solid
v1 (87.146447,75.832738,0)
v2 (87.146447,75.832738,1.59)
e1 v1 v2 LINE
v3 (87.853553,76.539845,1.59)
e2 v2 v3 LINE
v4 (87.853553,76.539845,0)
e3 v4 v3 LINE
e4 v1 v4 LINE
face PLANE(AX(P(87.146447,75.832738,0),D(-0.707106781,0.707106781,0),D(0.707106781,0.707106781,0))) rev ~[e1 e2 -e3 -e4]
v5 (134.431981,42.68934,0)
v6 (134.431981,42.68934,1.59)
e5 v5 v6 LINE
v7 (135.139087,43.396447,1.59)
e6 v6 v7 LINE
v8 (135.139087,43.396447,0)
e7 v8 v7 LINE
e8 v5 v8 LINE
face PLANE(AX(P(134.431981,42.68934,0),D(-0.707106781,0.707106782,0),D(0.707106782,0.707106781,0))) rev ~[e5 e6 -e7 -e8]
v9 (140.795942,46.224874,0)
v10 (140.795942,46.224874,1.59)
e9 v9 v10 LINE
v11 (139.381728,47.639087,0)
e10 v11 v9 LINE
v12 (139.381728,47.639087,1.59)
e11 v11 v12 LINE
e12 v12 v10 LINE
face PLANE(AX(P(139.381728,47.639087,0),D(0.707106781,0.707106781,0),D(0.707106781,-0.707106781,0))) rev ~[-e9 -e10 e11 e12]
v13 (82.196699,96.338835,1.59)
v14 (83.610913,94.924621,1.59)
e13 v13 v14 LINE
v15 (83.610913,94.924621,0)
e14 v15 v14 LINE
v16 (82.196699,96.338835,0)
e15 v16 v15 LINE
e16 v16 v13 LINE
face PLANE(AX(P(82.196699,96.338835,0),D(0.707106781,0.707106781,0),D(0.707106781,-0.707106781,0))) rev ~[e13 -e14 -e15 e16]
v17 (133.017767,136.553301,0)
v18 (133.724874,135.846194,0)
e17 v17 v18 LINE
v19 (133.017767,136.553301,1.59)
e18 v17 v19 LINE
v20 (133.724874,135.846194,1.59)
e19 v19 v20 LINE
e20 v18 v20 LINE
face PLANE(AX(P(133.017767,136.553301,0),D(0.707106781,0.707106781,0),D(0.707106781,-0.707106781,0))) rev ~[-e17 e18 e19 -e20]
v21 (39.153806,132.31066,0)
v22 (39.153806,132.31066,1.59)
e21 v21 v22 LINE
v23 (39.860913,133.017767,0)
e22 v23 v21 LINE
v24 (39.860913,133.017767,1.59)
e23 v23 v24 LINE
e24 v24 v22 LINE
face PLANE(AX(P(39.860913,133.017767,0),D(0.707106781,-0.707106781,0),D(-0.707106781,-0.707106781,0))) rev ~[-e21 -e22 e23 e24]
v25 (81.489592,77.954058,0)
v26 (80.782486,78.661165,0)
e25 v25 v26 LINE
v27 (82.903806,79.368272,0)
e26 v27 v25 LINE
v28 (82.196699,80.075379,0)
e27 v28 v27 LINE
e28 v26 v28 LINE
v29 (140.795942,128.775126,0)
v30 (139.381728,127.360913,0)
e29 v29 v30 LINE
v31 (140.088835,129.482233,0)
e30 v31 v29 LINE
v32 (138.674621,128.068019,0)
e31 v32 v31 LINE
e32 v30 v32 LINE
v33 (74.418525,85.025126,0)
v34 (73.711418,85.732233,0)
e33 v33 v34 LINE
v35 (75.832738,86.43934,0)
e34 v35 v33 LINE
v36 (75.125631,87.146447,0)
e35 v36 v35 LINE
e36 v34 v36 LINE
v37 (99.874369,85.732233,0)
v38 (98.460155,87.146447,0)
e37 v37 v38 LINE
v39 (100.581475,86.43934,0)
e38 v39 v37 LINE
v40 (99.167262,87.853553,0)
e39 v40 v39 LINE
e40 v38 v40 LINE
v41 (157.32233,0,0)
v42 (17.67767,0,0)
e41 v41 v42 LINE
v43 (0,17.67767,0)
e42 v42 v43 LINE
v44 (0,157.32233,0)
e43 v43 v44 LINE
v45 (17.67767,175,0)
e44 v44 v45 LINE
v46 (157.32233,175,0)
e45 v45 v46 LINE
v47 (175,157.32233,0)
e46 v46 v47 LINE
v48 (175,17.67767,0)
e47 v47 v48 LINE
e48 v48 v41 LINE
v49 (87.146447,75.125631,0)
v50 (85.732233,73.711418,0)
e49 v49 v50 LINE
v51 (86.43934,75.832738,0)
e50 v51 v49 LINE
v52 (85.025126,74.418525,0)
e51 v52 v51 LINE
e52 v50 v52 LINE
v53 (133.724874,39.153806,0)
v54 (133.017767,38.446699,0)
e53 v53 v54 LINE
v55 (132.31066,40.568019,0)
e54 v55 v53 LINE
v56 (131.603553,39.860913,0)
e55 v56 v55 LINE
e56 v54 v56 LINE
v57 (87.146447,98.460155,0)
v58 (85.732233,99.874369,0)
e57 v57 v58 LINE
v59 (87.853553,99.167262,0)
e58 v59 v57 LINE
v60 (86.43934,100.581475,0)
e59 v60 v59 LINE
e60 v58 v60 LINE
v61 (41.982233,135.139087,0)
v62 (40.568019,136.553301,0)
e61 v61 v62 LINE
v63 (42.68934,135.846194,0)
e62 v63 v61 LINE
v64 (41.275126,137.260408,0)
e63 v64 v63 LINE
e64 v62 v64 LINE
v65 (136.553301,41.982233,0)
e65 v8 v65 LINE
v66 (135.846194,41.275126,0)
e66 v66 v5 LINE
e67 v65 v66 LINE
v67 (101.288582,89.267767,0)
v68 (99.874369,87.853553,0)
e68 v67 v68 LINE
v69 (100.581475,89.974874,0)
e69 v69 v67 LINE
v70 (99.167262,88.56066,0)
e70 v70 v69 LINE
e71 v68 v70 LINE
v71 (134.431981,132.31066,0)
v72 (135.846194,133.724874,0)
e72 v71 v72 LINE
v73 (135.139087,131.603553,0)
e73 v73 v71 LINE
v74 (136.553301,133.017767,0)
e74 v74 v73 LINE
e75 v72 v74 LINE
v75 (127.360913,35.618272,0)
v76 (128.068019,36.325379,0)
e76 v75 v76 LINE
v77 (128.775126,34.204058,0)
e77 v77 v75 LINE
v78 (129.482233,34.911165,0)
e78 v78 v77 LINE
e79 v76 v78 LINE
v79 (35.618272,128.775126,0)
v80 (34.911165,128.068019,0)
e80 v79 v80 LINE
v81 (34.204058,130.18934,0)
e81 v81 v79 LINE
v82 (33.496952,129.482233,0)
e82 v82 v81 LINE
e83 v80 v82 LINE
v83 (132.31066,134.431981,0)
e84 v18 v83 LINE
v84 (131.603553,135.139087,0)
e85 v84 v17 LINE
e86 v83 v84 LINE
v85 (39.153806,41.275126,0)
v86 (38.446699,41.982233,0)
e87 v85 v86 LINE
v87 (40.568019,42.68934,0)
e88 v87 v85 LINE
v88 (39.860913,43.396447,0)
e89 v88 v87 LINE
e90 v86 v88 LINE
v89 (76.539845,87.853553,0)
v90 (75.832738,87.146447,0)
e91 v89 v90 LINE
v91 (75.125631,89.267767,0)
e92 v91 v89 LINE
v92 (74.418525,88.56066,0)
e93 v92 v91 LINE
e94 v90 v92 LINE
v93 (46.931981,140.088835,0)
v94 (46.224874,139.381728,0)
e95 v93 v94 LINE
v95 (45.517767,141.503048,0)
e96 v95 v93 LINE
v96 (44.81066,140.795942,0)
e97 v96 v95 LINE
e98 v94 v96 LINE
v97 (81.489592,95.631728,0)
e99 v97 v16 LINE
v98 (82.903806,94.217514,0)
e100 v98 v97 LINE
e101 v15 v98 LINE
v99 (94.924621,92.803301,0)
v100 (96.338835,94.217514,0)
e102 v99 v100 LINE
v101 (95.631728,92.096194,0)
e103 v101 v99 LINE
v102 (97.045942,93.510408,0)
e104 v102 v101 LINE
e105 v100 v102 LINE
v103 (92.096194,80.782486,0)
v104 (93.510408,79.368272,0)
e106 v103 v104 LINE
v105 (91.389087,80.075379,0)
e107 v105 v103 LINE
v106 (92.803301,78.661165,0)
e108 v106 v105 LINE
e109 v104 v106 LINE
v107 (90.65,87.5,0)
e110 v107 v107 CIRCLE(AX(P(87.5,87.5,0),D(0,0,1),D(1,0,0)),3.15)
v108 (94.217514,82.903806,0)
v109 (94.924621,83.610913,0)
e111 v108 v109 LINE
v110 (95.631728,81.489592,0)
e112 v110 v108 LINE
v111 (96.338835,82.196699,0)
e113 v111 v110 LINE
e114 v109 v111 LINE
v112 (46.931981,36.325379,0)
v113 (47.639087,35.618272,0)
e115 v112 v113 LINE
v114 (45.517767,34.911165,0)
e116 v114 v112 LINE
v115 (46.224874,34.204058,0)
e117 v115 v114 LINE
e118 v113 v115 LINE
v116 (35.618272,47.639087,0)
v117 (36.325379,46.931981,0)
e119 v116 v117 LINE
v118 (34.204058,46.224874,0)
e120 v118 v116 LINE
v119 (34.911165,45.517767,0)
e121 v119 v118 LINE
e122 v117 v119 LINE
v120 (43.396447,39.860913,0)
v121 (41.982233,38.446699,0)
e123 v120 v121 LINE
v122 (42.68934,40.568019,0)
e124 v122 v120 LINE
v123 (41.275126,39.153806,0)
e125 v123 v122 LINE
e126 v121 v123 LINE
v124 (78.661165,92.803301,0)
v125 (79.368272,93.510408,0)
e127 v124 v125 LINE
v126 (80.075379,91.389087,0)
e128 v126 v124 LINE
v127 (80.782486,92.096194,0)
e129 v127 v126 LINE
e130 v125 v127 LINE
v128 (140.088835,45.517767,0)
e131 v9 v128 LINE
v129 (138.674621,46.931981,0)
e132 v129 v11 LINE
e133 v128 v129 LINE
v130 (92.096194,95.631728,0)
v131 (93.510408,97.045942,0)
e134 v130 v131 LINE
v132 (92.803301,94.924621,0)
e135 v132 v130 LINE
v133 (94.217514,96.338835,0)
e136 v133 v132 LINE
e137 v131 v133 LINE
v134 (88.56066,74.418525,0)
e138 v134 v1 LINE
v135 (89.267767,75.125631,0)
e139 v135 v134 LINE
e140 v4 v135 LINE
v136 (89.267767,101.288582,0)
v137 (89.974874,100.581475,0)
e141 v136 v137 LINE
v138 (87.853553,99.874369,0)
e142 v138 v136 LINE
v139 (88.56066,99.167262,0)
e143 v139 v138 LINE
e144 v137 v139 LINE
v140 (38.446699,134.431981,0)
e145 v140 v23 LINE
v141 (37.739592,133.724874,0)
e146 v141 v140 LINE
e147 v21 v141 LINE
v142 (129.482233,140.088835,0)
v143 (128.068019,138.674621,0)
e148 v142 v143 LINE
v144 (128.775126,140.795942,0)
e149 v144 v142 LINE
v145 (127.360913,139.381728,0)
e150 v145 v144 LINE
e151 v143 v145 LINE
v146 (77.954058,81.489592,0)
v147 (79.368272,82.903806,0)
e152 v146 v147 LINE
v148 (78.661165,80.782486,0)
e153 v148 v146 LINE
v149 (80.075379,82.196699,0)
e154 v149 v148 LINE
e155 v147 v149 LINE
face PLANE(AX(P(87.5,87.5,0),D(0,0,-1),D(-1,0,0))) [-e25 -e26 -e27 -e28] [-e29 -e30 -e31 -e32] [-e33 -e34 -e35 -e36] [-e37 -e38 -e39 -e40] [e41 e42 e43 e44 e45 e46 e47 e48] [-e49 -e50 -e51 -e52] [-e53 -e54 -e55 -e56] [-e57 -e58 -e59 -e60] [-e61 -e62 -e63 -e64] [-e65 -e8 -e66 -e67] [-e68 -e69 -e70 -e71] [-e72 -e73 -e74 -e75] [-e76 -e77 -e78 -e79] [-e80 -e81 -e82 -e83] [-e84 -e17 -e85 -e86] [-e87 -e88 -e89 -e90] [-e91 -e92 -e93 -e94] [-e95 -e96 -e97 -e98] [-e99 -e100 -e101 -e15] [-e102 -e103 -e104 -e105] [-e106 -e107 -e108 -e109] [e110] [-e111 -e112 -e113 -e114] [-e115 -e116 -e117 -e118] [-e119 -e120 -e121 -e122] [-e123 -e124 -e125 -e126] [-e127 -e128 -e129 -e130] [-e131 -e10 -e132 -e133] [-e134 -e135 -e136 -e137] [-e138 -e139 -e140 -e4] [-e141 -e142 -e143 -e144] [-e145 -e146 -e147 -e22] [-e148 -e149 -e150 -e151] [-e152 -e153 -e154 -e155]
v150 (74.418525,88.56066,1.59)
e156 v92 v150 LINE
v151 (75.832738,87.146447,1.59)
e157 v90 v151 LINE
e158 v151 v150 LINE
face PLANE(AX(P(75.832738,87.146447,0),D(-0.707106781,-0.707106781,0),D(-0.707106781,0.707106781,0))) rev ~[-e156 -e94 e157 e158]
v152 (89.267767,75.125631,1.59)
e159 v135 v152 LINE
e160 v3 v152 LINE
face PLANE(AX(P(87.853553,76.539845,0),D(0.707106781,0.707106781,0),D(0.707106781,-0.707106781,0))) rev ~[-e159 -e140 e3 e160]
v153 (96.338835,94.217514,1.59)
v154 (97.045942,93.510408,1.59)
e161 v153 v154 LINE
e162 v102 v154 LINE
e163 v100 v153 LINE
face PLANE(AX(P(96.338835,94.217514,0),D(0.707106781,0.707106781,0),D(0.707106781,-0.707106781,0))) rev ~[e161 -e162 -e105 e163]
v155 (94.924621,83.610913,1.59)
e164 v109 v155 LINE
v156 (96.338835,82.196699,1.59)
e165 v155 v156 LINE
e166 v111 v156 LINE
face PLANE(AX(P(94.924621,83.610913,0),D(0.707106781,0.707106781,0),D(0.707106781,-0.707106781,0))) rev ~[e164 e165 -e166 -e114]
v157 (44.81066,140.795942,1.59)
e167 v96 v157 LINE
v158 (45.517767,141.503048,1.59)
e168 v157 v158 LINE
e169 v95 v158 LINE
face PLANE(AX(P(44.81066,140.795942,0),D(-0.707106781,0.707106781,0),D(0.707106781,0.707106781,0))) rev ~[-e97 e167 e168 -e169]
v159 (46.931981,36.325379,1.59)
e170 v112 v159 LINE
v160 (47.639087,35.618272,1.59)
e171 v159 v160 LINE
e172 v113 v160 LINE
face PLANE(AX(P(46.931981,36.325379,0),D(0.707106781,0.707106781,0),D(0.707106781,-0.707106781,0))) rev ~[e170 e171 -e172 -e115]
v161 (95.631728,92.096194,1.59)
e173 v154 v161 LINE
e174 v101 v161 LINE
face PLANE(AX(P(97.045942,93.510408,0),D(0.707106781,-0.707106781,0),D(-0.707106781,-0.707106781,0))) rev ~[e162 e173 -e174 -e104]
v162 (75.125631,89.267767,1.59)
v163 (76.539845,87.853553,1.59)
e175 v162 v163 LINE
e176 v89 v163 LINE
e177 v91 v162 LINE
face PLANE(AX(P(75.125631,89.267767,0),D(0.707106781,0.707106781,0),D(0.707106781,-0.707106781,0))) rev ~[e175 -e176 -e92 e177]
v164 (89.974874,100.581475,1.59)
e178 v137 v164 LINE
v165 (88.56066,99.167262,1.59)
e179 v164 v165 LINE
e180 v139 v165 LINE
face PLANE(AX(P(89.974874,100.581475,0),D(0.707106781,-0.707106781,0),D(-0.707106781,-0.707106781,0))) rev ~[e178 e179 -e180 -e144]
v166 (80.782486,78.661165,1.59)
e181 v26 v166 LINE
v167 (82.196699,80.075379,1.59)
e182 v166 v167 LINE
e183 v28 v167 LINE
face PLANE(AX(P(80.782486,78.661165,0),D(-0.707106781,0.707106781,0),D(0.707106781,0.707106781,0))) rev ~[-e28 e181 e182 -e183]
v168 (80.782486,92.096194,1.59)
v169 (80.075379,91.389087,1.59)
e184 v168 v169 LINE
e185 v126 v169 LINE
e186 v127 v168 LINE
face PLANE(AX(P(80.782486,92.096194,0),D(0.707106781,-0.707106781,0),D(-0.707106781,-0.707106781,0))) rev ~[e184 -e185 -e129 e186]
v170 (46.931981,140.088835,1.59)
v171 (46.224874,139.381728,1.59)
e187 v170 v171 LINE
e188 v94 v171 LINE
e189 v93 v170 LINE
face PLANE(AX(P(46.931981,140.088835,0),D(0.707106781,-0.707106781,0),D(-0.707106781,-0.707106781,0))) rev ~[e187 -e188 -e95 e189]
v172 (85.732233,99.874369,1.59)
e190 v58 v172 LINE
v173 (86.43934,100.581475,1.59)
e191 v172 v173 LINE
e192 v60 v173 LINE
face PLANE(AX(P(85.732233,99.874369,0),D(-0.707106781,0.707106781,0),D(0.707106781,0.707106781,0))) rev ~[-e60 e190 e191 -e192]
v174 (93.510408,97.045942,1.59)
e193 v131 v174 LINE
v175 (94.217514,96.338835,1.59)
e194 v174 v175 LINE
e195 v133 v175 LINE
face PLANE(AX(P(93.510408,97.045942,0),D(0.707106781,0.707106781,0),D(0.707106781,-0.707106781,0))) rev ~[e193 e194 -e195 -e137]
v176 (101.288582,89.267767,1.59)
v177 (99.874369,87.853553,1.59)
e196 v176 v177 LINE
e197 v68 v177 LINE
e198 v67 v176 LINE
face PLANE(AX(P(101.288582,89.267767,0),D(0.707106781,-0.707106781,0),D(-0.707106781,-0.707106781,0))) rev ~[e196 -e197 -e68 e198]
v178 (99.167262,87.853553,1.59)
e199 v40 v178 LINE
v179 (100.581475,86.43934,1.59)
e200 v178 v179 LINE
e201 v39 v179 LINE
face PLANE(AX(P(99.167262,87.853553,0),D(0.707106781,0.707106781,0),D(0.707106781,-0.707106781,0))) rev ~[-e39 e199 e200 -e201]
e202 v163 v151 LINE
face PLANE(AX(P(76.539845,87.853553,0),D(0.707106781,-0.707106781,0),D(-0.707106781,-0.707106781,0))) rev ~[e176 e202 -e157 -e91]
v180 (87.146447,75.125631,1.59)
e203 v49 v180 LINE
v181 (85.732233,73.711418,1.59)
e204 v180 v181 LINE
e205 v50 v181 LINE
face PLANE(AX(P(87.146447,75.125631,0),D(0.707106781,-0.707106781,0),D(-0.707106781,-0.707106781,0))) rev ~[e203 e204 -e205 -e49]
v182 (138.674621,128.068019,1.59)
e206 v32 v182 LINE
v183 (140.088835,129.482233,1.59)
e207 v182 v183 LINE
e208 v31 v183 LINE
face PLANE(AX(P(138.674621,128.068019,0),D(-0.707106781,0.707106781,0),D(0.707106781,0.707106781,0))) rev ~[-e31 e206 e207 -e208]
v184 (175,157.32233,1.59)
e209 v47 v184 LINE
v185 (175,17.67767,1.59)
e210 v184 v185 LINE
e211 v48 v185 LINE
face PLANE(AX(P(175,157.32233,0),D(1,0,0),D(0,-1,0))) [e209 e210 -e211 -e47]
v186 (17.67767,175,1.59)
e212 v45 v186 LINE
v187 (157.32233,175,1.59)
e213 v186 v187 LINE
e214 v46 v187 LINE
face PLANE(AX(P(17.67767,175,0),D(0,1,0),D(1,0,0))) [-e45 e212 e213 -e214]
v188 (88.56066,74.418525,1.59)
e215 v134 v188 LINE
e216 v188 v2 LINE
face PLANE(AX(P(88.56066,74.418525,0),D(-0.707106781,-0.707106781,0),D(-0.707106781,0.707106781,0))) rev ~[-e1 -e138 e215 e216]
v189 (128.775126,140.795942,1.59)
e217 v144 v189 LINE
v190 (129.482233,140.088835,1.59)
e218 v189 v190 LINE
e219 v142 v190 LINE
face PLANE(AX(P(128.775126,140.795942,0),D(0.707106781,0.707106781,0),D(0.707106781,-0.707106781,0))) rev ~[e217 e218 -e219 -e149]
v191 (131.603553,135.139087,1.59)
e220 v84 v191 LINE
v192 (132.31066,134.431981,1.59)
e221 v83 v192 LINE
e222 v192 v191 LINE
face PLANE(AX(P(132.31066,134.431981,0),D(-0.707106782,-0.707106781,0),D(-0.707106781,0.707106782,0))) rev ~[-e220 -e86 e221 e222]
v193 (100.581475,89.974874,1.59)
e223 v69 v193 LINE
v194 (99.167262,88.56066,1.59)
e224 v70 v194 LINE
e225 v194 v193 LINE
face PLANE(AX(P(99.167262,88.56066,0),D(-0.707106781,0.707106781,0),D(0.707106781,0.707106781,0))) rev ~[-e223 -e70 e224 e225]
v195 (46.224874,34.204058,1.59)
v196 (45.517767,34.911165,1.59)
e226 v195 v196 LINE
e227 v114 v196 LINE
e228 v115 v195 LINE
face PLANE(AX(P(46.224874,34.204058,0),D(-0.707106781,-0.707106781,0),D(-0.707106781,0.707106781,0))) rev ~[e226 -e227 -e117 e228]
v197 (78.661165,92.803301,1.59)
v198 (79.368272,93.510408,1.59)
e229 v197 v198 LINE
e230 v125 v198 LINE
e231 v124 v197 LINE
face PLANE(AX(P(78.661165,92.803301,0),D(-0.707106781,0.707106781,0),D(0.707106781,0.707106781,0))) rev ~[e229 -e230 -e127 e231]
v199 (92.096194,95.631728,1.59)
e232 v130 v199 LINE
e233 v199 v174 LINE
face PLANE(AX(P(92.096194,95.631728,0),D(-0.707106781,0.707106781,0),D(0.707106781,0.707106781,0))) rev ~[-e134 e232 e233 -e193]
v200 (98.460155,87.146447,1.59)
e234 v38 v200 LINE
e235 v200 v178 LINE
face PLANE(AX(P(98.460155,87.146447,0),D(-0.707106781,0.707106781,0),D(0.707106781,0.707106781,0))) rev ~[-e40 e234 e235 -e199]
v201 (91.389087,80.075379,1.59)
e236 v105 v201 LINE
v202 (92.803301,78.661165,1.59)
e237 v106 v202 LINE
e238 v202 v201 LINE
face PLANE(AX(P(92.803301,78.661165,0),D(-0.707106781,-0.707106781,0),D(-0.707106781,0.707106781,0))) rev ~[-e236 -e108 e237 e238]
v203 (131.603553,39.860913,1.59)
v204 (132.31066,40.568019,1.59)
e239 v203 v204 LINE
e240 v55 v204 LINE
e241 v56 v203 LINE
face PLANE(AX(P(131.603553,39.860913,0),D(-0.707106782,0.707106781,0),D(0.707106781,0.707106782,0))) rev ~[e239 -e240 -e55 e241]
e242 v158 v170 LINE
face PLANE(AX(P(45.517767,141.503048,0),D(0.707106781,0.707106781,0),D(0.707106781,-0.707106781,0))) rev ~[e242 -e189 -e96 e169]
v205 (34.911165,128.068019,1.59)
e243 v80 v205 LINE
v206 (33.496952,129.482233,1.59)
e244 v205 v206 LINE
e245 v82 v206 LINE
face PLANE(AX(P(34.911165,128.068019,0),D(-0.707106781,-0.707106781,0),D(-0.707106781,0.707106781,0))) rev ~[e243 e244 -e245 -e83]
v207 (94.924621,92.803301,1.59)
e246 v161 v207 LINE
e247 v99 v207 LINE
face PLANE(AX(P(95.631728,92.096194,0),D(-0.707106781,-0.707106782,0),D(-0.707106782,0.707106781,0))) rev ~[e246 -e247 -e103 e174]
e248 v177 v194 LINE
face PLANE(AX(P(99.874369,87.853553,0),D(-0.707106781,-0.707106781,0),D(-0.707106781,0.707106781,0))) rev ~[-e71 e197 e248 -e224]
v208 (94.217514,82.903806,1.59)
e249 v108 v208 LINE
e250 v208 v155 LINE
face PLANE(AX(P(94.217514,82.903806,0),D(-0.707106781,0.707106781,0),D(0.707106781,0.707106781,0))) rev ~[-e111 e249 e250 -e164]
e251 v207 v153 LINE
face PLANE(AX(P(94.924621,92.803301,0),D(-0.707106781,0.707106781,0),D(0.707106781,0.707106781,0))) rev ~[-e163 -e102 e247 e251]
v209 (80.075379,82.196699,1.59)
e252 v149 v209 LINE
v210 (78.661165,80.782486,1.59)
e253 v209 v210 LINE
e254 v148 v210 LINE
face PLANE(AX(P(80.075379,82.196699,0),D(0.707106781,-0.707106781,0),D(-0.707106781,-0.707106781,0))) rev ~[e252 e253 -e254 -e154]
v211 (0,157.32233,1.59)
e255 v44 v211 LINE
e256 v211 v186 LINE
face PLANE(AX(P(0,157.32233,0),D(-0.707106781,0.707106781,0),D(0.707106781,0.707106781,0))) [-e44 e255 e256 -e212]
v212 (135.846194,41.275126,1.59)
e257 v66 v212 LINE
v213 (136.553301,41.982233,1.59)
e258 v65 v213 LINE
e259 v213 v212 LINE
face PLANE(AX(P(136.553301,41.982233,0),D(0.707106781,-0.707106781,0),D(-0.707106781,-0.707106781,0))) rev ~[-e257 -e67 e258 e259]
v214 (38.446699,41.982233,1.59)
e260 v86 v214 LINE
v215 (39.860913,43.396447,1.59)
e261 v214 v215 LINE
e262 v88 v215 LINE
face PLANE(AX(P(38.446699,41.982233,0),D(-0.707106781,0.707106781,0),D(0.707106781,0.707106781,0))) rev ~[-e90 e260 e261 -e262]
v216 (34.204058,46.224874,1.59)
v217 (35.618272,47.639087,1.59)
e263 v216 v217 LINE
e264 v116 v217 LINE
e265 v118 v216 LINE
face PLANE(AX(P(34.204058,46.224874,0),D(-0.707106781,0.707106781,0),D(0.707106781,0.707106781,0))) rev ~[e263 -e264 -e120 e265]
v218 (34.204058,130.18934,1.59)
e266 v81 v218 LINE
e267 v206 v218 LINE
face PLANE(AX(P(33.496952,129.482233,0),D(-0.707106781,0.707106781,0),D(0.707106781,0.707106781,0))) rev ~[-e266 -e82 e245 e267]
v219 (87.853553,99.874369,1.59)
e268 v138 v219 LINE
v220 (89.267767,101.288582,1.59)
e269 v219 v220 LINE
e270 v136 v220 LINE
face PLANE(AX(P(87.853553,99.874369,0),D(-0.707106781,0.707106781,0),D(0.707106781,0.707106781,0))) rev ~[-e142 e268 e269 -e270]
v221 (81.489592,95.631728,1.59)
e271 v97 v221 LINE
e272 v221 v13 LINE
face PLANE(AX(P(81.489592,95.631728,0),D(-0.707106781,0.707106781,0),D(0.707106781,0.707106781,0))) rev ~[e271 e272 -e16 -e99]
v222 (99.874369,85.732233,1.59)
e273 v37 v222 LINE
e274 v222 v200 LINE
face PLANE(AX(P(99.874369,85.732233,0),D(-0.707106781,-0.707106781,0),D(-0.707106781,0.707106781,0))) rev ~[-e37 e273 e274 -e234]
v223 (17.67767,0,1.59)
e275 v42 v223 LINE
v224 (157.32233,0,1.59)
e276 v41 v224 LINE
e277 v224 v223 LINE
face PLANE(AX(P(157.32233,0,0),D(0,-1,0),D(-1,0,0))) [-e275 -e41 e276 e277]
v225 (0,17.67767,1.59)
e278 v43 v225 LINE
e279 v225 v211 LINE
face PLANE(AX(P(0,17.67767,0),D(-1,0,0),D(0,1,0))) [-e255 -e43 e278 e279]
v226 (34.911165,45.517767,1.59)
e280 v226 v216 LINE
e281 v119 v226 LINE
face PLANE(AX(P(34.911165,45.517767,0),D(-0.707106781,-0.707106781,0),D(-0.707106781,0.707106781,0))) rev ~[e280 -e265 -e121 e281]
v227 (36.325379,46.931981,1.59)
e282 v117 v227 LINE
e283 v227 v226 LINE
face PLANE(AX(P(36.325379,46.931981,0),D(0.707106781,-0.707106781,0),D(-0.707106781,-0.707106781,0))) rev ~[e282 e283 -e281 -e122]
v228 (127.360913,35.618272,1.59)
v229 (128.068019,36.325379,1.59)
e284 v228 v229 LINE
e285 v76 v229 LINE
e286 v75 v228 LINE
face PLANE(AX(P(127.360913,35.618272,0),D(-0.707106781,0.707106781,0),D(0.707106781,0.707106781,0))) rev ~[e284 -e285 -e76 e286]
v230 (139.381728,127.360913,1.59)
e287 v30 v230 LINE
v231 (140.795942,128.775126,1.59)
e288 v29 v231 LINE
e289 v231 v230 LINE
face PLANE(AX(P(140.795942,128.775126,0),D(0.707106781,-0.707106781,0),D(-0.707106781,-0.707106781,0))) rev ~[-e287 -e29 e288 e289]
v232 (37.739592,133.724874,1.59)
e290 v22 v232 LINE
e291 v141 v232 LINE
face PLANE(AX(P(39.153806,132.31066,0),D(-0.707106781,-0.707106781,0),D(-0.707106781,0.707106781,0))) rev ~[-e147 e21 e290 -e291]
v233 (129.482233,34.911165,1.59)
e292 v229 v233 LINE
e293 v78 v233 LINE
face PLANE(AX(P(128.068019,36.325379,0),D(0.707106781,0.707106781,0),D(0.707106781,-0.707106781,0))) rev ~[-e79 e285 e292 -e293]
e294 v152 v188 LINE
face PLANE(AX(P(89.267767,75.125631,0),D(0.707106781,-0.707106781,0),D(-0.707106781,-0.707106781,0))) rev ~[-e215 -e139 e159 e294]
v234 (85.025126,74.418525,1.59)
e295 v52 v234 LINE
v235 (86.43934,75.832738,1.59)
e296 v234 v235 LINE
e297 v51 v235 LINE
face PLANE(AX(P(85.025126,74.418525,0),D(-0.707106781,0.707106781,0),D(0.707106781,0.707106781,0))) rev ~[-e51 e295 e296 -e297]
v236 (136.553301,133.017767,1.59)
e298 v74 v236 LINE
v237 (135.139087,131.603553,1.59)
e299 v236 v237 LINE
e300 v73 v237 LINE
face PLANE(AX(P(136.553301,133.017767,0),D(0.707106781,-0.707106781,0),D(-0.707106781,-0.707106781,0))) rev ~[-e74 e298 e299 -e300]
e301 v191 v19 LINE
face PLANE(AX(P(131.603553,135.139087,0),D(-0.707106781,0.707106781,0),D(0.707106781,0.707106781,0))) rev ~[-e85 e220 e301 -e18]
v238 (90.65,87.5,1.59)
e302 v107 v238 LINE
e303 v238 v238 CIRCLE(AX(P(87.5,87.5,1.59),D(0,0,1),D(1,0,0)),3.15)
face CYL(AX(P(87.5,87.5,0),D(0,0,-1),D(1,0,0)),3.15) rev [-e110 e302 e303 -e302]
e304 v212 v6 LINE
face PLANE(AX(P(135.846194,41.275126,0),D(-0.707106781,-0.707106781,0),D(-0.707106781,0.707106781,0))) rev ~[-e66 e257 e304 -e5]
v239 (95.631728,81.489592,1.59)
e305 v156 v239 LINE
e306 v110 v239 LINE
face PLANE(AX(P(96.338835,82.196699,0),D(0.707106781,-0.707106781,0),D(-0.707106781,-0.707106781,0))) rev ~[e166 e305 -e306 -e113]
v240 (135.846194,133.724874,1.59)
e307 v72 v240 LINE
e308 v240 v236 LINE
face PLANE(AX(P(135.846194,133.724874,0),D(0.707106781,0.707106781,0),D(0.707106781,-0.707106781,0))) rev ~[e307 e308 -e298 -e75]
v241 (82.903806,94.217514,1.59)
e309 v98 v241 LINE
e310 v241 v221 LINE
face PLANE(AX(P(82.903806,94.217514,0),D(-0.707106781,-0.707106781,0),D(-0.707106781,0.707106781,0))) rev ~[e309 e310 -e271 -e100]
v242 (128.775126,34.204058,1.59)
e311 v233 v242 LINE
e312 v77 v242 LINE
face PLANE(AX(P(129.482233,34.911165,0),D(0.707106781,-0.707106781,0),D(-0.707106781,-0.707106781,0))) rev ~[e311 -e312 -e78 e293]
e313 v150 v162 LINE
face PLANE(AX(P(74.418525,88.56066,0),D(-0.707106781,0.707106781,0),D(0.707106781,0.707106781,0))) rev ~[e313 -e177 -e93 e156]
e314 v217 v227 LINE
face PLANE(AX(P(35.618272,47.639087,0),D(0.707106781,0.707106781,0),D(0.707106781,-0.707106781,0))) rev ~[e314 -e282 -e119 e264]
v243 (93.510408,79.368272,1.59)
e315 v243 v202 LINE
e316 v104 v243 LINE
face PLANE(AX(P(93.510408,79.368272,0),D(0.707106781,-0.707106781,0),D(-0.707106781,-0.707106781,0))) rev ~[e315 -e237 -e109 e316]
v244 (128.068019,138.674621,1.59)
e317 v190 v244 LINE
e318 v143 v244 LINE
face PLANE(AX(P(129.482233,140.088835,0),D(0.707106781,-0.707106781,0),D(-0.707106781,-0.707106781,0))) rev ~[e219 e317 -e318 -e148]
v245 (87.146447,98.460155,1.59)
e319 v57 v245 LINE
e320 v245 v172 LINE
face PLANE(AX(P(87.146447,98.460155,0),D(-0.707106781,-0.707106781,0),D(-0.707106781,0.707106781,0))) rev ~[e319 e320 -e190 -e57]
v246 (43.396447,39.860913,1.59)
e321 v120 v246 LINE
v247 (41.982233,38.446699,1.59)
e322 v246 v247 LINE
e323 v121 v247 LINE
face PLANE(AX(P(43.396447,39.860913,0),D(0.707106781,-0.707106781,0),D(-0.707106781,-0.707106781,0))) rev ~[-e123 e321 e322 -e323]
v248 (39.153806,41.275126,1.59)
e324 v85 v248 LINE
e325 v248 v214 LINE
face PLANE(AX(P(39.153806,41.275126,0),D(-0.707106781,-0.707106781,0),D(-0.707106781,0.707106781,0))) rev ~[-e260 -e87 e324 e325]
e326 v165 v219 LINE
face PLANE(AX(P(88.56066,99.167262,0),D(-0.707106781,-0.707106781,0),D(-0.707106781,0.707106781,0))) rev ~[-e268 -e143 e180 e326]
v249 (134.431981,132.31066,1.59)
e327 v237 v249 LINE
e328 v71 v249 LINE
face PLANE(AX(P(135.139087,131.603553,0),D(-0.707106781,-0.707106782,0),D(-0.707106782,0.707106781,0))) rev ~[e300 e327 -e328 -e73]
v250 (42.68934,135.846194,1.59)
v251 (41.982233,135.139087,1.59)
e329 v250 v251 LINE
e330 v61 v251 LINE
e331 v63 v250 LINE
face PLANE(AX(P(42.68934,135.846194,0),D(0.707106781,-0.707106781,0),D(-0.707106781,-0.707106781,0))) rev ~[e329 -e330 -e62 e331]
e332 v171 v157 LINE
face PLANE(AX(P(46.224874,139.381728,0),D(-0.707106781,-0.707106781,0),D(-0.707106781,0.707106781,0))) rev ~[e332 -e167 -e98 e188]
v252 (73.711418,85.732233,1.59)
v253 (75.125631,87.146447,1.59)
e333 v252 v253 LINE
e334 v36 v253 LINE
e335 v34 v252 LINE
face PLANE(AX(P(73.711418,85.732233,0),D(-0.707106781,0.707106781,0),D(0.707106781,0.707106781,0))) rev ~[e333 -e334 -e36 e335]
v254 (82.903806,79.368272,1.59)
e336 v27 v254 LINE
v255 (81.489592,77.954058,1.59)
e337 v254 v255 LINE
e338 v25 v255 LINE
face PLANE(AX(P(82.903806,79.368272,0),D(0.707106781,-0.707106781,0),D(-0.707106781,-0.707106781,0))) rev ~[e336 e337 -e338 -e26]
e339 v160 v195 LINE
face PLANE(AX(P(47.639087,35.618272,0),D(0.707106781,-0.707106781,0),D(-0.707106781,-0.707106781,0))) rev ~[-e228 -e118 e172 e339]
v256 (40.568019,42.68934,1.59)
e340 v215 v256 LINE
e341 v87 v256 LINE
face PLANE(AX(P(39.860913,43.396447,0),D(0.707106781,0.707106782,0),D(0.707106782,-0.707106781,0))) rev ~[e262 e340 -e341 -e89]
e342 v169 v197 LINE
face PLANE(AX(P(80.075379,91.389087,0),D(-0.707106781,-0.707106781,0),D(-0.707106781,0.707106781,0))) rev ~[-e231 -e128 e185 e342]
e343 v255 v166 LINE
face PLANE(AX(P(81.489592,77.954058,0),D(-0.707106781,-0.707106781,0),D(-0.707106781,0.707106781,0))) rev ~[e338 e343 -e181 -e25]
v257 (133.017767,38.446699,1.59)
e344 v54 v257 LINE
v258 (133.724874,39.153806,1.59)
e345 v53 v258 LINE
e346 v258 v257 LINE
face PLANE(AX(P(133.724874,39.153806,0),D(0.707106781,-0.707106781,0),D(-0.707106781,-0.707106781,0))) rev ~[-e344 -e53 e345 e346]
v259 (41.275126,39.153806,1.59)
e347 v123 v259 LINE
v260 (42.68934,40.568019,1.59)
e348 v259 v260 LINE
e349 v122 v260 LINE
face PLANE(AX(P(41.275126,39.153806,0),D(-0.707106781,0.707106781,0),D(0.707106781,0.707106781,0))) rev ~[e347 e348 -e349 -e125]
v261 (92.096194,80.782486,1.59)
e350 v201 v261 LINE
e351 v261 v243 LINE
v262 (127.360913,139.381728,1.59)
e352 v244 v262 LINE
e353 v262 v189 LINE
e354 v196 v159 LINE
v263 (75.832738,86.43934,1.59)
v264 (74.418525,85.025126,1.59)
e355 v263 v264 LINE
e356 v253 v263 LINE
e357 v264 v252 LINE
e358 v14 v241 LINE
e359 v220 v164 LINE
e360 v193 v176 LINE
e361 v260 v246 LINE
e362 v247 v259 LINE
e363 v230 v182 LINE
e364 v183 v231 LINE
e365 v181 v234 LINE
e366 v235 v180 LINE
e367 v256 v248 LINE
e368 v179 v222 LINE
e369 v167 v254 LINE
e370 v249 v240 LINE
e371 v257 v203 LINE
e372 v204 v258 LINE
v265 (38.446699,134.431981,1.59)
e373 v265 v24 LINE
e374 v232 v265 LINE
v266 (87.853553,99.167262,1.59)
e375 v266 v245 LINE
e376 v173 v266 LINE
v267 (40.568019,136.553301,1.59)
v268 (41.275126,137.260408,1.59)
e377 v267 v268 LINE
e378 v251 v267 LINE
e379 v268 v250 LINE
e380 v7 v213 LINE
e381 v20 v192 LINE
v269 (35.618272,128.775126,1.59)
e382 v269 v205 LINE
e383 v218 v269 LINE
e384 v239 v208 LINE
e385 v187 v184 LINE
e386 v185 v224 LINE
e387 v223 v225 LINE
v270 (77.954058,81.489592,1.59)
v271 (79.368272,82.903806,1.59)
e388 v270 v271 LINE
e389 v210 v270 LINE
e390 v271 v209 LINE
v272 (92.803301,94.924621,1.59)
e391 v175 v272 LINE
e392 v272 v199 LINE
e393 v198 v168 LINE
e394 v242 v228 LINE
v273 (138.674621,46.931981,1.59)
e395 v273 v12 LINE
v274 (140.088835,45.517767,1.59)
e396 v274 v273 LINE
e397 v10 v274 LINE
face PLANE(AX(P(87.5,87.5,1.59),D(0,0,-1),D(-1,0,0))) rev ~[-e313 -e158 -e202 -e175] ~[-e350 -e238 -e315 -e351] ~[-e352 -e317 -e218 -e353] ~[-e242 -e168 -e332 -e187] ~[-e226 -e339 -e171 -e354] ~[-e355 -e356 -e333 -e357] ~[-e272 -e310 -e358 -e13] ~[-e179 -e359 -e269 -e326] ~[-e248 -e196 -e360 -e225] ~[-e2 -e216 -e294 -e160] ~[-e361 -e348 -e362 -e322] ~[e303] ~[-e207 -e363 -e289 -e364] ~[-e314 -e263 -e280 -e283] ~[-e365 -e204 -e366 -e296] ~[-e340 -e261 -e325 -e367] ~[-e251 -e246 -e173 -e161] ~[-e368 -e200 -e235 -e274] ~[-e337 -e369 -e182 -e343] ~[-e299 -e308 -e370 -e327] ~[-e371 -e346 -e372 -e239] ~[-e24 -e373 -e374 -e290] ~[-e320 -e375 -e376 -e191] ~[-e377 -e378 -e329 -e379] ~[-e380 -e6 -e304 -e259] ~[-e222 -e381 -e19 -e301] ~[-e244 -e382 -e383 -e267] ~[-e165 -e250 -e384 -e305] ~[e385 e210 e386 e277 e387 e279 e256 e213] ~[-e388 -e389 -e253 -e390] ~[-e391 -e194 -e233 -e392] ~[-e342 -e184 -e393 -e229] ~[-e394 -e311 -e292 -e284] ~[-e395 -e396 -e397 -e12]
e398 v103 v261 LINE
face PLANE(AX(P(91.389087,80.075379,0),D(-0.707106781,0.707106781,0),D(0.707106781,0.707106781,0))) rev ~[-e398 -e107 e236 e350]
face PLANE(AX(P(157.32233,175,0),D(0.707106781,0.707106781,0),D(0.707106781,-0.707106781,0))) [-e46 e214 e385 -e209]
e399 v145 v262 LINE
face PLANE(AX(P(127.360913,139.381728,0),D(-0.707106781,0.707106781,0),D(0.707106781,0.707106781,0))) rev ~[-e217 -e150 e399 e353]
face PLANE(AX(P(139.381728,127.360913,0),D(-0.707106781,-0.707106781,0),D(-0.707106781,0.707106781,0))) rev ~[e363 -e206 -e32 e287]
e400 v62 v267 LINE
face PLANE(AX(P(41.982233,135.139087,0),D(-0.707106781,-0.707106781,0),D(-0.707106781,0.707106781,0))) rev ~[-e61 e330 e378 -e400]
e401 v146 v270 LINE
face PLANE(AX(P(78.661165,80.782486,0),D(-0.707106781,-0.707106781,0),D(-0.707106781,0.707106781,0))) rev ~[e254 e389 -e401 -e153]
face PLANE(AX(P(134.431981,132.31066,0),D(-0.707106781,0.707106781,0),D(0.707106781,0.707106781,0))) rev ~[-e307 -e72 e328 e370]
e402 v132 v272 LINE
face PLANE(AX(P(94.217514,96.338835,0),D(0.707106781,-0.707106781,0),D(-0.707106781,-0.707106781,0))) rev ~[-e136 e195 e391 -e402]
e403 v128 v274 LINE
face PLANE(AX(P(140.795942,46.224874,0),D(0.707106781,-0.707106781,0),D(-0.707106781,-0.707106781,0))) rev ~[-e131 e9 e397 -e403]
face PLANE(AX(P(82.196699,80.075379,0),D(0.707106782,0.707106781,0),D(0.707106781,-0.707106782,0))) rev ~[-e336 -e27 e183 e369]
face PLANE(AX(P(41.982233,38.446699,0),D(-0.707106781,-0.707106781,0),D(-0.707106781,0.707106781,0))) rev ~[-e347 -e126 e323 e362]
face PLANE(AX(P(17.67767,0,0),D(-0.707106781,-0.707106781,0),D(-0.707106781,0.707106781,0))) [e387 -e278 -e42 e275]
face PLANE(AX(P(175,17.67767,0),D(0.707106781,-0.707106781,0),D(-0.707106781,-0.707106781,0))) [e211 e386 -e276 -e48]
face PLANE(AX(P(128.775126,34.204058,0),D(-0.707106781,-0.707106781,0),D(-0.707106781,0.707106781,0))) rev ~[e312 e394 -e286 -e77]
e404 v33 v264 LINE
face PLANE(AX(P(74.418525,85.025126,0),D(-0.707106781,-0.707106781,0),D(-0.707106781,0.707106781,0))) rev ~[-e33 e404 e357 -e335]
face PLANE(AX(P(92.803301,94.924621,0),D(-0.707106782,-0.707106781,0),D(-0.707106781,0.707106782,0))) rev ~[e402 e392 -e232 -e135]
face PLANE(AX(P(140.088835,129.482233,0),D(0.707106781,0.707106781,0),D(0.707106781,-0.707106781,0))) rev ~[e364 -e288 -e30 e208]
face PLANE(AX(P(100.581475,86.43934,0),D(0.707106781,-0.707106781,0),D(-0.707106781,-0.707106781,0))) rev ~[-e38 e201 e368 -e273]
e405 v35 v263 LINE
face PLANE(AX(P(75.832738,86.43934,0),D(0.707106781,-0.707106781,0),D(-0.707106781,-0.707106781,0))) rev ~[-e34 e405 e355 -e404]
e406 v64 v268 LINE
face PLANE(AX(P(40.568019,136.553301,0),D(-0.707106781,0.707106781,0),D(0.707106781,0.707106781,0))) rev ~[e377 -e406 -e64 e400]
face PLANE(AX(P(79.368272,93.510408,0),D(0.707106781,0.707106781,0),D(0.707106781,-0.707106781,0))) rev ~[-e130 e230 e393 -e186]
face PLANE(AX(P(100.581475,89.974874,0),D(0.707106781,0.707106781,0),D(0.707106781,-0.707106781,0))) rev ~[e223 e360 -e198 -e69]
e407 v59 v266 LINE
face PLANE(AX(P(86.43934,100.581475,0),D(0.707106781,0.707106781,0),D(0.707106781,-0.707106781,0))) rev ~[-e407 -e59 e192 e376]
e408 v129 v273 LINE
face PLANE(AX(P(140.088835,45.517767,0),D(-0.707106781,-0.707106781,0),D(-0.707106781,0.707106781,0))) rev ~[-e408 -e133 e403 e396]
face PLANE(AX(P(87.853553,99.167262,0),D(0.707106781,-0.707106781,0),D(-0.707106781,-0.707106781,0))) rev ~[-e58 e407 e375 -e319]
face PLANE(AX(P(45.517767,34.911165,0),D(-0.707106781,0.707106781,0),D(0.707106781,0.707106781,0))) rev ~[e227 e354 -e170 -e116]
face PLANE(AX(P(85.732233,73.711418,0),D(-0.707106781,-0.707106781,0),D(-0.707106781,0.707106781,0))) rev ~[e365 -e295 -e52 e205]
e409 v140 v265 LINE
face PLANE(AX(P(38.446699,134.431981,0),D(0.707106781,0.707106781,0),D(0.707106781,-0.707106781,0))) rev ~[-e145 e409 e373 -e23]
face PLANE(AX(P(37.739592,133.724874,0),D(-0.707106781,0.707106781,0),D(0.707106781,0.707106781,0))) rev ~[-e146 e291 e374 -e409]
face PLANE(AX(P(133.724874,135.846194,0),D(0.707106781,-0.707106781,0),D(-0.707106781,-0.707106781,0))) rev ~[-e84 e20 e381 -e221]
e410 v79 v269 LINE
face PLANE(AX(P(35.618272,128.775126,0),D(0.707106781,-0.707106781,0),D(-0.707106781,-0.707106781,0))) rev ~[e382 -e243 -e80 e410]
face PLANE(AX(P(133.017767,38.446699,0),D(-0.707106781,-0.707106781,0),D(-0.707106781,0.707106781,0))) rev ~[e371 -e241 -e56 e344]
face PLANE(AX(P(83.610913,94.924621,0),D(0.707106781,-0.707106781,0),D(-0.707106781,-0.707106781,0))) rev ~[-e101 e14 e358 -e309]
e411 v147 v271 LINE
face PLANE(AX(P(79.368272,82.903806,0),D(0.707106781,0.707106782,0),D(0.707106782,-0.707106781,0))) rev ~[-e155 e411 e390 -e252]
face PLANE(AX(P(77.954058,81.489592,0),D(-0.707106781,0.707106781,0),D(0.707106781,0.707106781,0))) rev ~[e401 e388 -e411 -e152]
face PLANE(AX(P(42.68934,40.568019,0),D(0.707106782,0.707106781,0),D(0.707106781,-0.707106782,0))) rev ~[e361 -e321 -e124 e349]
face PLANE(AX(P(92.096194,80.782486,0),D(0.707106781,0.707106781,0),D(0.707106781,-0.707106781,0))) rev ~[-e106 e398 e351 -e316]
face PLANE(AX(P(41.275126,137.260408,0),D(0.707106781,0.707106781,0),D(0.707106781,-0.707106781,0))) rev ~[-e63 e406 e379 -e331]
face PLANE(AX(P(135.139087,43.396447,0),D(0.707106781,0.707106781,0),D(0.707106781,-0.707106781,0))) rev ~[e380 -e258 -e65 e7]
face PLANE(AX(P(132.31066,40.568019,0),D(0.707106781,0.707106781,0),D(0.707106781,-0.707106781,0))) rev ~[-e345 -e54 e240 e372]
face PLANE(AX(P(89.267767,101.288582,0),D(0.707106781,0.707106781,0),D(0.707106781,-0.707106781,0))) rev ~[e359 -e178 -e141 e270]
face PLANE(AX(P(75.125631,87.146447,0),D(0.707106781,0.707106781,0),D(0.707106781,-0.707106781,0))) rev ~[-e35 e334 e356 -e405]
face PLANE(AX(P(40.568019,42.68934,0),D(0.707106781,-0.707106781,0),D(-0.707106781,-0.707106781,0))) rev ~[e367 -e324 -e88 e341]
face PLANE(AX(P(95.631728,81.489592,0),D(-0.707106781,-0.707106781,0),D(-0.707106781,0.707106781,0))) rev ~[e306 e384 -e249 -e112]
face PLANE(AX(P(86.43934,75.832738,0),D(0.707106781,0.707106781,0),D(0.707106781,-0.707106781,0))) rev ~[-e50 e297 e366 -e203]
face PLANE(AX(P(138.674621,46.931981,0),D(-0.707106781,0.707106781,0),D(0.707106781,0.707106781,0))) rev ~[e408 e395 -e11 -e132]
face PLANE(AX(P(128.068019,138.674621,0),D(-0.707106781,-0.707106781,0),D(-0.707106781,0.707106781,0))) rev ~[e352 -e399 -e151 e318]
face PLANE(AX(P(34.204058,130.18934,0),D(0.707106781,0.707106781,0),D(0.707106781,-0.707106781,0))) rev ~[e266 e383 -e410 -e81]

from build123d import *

# Parameters (mm, degrees)
MODEL_R             = 3.15
BOSS_EXTRUDE1_DEPTH = 1.59


with BuildPart() as part:
    # Model → Boss-Extrude1 (new body)
    with BuildSketch(Plane.XY):
        Polygon((0, 17.67766953), (0, 157.32233047), (17.67766953, 175), (157.32233047, 175), (175, 157.32233047), (175, 17.67766953), (157.32233047, 0), (17.67766953, 0), align=None)
        with Locations((87.5, 87.5)):
            Circle(MODEL_R, mode=Mode.SUBTRACT)
        Polygon((139.381727984, 47.639087297), (140.795941546, 46.224873734), (140.088834765, 45.517766953), (138.674621202, 46.931980515), align=None, mode=Mode.SUBTRACT)
        Polygon((135.139087297, 43.396446609), (136.553300859, 41.982233047), (135.846194078, 41.275126266), (134.431980515, 42.689339828), align=None, mode=Mode.SUBTRACT)
        Polygon((132.310660172, 40.568019485), (133.724873734, 39.153805922), (133.017766953, 38.446699141), (131.603553391, 39.860912703), align=None, mode=Mode.SUBTRACT)
        Polygon((128.068019485, 36.325378798), (129.482233047, 34.911165235), (128.775126266, 34.204058454), (127.360912703, 35.618272016), align=None, mode=Mode.SUBTRACT)
        Polygon((87.853553391, 76.539844892), (89.267766953, 75.125631329), (88.560660172, 74.418524548), (87.146446609, 75.83273811), align=None, mode=Mode.SUBTRACT)
        Polygon((92.096194078, 80.782485579), (93.51040764, 79.368272016), (92.803300859, 78.661165235), (91.389087297, 80.075378798), align=None, mode=Mode.SUBTRACT)
        Polygon((47.639087297, 35.618272016), (46.224873734, 34.204058454), (45.517766953, 34.911165235), (46.931980515, 36.325378798), align=None, mode=Mode.SUBTRACT)
        Polygon((43.396446609, 39.860912703), (41.982233047, 38.446699141), (41.275126266, 39.153805922), (42.689339828, 40.568019485), align=None, mode=Mode.SUBTRACT)
        Polygon((40.568019485, 42.689339828), (39.153805922, 41.275126266), (38.446699141, 41.982233047), (39.860912703, 43.396446609), align=None, mode=Mode.SUBTRACT)
        Polygon((36.325378798, 46.931980515), (34.911165235, 45.517766953), (34.204058454, 46.224873734), (35.618272016, 47.639087297), align=None, mode=Mode.SUBTRACT)
        Polygon((75.83273811, 86.439339828), (74.418524548, 85.025126266), (73.711417767, 85.732233047), (75.125631329, 87.146446609), align=None, mode=Mode.SUBTRACT)
        Polygon((80.075378798, 82.196699141), (78.661165235, 80.782485579), (77.954058454, 81.48959236), (79.368272016, 82.903805922), align=None, mode=Mode.SUBTRACT)
        Polygon((82.903805922, 79.368272016), (81.48959236, 77.954058454), (80.782485579, 78.661165235), (82.196699141, 80.075378798), align=None, mode=Mode.SUBTRACT)
        Polygon((87.146446609, 75.125631329), (85.732233047, 73.711417767), (85.025126266, 74.418524548), (86.439339828, 75.83273811), align=None, mode=Mode.SUBTRACT)
        Polygon((101.288582233, 89.267766953), (99.874368671, 87.853553391), (99.16726189, 88.560660172), (100.581475452, 89.974873734), align=None, mode=Mode.SUBTRACT)
        Polygon((97.045941546, 93.51040764), (95.631727984, 92.096194078), (94.924621202, 92.803300859), (96.338834765, 94.217514421), align=None, mode=Mode.SUBTRACT)
        Polygon((94.217514421, 96.338834765), (92.803300859, 94.924621202), (92.096194078, 95.631727984), (93.51040764, 97.045941546), align=None, mode=Mode.SUBTRACT)
        Polygon((89.974873734, 100.581475452), (88.560660172, 99.16726189), (87.853553391, 99.874368671), (89.267766953, 101.288582233), align=None, mode=Mode.SUBTRACT)
        Polygon((129.482233047, 140.088834765), (128.068019485, 138.674621202), (127.360912703, 139.381727984), (128.775126266, 140.795941546), align=None, mode=Mode.SUBTRACT)
        Polygon((133.724873734, 135.846194078), (132.310660172, 134.431980515), (131.603553391, 135.139087297), (133.017766953, 136.553300859), align=None, mode=Mode.SUBTRACT)
        Polygon((136.553300859, 133.017766953), (135.139087297, 131.603553391), (134.431980515, 132.310660172), (135.846194078, 133.724873734), align=None, mode=Mode.SUBTRACT)
        Polygon((140.795941546, 128.775126266), (139.381727984, 127.360912703), (138.674621202, 128.068019485), (140.088834765, 129.482233047), align=None, mode=Mode.SUBTRACT)
        Polygon((94.924621202, 83.610912703), (96.338834765, 82.196699141), (95.631727984, 81.48959236), (94.217514421, 82.903805922), align=None, mode=Mode.SUBTRACT)
        Polygon((99.16726189, 87.853553391), (100.581475452, 86.439339828), (99.874368671, 85.732233047), (98.460155108, 87.146446609), align=None, mode=Mode.SUBTRACT)
        Polygon((75.125631329, 89.267766953), (76.539844892, 87.853553391), (75.83273811, 87.146446609), (74.418524548, 88.560660172), align=None, mode=Mode.SUBTRACT)
        Polygon((79.368272016, 93.51040764), (80.782485579, 92.096194078), (80.075378798, 91.389087297), (78.661165235, 92.803300859), align=None, mode=Mode.SUBTRACT)
        Polygon((82.196699141, 96.338834765), (83.610912703, 94.924621202), (82.903805922, 94.217514421), (81.48959236, 95.631727984), align=None, mode=Mode.SUBTRACT)
        Polygon((86.439339828, 100.581475452), (87.853553391, 99.16726189), (87.146446609, 98.460155108), (85.732233047, 99.874368671), align=None, mode=Mode.SUBTRACT)
        Polygon((34.204058454, 130.189339828), (35.618272016, 128.775126266), (34.911165235, 128.068019485), (33.496951673, 129.482233047), align=None, mode=Mode.SUBTRACT)
        Polygon((38.446699141, 134.431980515), (39.860912703, 133.017766953), (39.153805922, 132.310660172), (37.73959236, 133.724873734), align=None, mode=Mode.SUBTRACT)
        Polygon((41.275126266, 137.26040764), (42.689339828, 135.846194078), (41.982233047, 135.139087297), (40.568019485, 136.553300859), align=None, mode=Mode.SUBTRACT)
        Polygon((45.517766953, 141.503048327), (46.931980515, 140.088834765), (46.224873734, 139.381727984), (44.810660172, 140.795941546), align=None, mode=Mode.SUBTRACT)
    extrude(amount=BOSS_EXTRUDE1_DEPTH)


solid = part.part
